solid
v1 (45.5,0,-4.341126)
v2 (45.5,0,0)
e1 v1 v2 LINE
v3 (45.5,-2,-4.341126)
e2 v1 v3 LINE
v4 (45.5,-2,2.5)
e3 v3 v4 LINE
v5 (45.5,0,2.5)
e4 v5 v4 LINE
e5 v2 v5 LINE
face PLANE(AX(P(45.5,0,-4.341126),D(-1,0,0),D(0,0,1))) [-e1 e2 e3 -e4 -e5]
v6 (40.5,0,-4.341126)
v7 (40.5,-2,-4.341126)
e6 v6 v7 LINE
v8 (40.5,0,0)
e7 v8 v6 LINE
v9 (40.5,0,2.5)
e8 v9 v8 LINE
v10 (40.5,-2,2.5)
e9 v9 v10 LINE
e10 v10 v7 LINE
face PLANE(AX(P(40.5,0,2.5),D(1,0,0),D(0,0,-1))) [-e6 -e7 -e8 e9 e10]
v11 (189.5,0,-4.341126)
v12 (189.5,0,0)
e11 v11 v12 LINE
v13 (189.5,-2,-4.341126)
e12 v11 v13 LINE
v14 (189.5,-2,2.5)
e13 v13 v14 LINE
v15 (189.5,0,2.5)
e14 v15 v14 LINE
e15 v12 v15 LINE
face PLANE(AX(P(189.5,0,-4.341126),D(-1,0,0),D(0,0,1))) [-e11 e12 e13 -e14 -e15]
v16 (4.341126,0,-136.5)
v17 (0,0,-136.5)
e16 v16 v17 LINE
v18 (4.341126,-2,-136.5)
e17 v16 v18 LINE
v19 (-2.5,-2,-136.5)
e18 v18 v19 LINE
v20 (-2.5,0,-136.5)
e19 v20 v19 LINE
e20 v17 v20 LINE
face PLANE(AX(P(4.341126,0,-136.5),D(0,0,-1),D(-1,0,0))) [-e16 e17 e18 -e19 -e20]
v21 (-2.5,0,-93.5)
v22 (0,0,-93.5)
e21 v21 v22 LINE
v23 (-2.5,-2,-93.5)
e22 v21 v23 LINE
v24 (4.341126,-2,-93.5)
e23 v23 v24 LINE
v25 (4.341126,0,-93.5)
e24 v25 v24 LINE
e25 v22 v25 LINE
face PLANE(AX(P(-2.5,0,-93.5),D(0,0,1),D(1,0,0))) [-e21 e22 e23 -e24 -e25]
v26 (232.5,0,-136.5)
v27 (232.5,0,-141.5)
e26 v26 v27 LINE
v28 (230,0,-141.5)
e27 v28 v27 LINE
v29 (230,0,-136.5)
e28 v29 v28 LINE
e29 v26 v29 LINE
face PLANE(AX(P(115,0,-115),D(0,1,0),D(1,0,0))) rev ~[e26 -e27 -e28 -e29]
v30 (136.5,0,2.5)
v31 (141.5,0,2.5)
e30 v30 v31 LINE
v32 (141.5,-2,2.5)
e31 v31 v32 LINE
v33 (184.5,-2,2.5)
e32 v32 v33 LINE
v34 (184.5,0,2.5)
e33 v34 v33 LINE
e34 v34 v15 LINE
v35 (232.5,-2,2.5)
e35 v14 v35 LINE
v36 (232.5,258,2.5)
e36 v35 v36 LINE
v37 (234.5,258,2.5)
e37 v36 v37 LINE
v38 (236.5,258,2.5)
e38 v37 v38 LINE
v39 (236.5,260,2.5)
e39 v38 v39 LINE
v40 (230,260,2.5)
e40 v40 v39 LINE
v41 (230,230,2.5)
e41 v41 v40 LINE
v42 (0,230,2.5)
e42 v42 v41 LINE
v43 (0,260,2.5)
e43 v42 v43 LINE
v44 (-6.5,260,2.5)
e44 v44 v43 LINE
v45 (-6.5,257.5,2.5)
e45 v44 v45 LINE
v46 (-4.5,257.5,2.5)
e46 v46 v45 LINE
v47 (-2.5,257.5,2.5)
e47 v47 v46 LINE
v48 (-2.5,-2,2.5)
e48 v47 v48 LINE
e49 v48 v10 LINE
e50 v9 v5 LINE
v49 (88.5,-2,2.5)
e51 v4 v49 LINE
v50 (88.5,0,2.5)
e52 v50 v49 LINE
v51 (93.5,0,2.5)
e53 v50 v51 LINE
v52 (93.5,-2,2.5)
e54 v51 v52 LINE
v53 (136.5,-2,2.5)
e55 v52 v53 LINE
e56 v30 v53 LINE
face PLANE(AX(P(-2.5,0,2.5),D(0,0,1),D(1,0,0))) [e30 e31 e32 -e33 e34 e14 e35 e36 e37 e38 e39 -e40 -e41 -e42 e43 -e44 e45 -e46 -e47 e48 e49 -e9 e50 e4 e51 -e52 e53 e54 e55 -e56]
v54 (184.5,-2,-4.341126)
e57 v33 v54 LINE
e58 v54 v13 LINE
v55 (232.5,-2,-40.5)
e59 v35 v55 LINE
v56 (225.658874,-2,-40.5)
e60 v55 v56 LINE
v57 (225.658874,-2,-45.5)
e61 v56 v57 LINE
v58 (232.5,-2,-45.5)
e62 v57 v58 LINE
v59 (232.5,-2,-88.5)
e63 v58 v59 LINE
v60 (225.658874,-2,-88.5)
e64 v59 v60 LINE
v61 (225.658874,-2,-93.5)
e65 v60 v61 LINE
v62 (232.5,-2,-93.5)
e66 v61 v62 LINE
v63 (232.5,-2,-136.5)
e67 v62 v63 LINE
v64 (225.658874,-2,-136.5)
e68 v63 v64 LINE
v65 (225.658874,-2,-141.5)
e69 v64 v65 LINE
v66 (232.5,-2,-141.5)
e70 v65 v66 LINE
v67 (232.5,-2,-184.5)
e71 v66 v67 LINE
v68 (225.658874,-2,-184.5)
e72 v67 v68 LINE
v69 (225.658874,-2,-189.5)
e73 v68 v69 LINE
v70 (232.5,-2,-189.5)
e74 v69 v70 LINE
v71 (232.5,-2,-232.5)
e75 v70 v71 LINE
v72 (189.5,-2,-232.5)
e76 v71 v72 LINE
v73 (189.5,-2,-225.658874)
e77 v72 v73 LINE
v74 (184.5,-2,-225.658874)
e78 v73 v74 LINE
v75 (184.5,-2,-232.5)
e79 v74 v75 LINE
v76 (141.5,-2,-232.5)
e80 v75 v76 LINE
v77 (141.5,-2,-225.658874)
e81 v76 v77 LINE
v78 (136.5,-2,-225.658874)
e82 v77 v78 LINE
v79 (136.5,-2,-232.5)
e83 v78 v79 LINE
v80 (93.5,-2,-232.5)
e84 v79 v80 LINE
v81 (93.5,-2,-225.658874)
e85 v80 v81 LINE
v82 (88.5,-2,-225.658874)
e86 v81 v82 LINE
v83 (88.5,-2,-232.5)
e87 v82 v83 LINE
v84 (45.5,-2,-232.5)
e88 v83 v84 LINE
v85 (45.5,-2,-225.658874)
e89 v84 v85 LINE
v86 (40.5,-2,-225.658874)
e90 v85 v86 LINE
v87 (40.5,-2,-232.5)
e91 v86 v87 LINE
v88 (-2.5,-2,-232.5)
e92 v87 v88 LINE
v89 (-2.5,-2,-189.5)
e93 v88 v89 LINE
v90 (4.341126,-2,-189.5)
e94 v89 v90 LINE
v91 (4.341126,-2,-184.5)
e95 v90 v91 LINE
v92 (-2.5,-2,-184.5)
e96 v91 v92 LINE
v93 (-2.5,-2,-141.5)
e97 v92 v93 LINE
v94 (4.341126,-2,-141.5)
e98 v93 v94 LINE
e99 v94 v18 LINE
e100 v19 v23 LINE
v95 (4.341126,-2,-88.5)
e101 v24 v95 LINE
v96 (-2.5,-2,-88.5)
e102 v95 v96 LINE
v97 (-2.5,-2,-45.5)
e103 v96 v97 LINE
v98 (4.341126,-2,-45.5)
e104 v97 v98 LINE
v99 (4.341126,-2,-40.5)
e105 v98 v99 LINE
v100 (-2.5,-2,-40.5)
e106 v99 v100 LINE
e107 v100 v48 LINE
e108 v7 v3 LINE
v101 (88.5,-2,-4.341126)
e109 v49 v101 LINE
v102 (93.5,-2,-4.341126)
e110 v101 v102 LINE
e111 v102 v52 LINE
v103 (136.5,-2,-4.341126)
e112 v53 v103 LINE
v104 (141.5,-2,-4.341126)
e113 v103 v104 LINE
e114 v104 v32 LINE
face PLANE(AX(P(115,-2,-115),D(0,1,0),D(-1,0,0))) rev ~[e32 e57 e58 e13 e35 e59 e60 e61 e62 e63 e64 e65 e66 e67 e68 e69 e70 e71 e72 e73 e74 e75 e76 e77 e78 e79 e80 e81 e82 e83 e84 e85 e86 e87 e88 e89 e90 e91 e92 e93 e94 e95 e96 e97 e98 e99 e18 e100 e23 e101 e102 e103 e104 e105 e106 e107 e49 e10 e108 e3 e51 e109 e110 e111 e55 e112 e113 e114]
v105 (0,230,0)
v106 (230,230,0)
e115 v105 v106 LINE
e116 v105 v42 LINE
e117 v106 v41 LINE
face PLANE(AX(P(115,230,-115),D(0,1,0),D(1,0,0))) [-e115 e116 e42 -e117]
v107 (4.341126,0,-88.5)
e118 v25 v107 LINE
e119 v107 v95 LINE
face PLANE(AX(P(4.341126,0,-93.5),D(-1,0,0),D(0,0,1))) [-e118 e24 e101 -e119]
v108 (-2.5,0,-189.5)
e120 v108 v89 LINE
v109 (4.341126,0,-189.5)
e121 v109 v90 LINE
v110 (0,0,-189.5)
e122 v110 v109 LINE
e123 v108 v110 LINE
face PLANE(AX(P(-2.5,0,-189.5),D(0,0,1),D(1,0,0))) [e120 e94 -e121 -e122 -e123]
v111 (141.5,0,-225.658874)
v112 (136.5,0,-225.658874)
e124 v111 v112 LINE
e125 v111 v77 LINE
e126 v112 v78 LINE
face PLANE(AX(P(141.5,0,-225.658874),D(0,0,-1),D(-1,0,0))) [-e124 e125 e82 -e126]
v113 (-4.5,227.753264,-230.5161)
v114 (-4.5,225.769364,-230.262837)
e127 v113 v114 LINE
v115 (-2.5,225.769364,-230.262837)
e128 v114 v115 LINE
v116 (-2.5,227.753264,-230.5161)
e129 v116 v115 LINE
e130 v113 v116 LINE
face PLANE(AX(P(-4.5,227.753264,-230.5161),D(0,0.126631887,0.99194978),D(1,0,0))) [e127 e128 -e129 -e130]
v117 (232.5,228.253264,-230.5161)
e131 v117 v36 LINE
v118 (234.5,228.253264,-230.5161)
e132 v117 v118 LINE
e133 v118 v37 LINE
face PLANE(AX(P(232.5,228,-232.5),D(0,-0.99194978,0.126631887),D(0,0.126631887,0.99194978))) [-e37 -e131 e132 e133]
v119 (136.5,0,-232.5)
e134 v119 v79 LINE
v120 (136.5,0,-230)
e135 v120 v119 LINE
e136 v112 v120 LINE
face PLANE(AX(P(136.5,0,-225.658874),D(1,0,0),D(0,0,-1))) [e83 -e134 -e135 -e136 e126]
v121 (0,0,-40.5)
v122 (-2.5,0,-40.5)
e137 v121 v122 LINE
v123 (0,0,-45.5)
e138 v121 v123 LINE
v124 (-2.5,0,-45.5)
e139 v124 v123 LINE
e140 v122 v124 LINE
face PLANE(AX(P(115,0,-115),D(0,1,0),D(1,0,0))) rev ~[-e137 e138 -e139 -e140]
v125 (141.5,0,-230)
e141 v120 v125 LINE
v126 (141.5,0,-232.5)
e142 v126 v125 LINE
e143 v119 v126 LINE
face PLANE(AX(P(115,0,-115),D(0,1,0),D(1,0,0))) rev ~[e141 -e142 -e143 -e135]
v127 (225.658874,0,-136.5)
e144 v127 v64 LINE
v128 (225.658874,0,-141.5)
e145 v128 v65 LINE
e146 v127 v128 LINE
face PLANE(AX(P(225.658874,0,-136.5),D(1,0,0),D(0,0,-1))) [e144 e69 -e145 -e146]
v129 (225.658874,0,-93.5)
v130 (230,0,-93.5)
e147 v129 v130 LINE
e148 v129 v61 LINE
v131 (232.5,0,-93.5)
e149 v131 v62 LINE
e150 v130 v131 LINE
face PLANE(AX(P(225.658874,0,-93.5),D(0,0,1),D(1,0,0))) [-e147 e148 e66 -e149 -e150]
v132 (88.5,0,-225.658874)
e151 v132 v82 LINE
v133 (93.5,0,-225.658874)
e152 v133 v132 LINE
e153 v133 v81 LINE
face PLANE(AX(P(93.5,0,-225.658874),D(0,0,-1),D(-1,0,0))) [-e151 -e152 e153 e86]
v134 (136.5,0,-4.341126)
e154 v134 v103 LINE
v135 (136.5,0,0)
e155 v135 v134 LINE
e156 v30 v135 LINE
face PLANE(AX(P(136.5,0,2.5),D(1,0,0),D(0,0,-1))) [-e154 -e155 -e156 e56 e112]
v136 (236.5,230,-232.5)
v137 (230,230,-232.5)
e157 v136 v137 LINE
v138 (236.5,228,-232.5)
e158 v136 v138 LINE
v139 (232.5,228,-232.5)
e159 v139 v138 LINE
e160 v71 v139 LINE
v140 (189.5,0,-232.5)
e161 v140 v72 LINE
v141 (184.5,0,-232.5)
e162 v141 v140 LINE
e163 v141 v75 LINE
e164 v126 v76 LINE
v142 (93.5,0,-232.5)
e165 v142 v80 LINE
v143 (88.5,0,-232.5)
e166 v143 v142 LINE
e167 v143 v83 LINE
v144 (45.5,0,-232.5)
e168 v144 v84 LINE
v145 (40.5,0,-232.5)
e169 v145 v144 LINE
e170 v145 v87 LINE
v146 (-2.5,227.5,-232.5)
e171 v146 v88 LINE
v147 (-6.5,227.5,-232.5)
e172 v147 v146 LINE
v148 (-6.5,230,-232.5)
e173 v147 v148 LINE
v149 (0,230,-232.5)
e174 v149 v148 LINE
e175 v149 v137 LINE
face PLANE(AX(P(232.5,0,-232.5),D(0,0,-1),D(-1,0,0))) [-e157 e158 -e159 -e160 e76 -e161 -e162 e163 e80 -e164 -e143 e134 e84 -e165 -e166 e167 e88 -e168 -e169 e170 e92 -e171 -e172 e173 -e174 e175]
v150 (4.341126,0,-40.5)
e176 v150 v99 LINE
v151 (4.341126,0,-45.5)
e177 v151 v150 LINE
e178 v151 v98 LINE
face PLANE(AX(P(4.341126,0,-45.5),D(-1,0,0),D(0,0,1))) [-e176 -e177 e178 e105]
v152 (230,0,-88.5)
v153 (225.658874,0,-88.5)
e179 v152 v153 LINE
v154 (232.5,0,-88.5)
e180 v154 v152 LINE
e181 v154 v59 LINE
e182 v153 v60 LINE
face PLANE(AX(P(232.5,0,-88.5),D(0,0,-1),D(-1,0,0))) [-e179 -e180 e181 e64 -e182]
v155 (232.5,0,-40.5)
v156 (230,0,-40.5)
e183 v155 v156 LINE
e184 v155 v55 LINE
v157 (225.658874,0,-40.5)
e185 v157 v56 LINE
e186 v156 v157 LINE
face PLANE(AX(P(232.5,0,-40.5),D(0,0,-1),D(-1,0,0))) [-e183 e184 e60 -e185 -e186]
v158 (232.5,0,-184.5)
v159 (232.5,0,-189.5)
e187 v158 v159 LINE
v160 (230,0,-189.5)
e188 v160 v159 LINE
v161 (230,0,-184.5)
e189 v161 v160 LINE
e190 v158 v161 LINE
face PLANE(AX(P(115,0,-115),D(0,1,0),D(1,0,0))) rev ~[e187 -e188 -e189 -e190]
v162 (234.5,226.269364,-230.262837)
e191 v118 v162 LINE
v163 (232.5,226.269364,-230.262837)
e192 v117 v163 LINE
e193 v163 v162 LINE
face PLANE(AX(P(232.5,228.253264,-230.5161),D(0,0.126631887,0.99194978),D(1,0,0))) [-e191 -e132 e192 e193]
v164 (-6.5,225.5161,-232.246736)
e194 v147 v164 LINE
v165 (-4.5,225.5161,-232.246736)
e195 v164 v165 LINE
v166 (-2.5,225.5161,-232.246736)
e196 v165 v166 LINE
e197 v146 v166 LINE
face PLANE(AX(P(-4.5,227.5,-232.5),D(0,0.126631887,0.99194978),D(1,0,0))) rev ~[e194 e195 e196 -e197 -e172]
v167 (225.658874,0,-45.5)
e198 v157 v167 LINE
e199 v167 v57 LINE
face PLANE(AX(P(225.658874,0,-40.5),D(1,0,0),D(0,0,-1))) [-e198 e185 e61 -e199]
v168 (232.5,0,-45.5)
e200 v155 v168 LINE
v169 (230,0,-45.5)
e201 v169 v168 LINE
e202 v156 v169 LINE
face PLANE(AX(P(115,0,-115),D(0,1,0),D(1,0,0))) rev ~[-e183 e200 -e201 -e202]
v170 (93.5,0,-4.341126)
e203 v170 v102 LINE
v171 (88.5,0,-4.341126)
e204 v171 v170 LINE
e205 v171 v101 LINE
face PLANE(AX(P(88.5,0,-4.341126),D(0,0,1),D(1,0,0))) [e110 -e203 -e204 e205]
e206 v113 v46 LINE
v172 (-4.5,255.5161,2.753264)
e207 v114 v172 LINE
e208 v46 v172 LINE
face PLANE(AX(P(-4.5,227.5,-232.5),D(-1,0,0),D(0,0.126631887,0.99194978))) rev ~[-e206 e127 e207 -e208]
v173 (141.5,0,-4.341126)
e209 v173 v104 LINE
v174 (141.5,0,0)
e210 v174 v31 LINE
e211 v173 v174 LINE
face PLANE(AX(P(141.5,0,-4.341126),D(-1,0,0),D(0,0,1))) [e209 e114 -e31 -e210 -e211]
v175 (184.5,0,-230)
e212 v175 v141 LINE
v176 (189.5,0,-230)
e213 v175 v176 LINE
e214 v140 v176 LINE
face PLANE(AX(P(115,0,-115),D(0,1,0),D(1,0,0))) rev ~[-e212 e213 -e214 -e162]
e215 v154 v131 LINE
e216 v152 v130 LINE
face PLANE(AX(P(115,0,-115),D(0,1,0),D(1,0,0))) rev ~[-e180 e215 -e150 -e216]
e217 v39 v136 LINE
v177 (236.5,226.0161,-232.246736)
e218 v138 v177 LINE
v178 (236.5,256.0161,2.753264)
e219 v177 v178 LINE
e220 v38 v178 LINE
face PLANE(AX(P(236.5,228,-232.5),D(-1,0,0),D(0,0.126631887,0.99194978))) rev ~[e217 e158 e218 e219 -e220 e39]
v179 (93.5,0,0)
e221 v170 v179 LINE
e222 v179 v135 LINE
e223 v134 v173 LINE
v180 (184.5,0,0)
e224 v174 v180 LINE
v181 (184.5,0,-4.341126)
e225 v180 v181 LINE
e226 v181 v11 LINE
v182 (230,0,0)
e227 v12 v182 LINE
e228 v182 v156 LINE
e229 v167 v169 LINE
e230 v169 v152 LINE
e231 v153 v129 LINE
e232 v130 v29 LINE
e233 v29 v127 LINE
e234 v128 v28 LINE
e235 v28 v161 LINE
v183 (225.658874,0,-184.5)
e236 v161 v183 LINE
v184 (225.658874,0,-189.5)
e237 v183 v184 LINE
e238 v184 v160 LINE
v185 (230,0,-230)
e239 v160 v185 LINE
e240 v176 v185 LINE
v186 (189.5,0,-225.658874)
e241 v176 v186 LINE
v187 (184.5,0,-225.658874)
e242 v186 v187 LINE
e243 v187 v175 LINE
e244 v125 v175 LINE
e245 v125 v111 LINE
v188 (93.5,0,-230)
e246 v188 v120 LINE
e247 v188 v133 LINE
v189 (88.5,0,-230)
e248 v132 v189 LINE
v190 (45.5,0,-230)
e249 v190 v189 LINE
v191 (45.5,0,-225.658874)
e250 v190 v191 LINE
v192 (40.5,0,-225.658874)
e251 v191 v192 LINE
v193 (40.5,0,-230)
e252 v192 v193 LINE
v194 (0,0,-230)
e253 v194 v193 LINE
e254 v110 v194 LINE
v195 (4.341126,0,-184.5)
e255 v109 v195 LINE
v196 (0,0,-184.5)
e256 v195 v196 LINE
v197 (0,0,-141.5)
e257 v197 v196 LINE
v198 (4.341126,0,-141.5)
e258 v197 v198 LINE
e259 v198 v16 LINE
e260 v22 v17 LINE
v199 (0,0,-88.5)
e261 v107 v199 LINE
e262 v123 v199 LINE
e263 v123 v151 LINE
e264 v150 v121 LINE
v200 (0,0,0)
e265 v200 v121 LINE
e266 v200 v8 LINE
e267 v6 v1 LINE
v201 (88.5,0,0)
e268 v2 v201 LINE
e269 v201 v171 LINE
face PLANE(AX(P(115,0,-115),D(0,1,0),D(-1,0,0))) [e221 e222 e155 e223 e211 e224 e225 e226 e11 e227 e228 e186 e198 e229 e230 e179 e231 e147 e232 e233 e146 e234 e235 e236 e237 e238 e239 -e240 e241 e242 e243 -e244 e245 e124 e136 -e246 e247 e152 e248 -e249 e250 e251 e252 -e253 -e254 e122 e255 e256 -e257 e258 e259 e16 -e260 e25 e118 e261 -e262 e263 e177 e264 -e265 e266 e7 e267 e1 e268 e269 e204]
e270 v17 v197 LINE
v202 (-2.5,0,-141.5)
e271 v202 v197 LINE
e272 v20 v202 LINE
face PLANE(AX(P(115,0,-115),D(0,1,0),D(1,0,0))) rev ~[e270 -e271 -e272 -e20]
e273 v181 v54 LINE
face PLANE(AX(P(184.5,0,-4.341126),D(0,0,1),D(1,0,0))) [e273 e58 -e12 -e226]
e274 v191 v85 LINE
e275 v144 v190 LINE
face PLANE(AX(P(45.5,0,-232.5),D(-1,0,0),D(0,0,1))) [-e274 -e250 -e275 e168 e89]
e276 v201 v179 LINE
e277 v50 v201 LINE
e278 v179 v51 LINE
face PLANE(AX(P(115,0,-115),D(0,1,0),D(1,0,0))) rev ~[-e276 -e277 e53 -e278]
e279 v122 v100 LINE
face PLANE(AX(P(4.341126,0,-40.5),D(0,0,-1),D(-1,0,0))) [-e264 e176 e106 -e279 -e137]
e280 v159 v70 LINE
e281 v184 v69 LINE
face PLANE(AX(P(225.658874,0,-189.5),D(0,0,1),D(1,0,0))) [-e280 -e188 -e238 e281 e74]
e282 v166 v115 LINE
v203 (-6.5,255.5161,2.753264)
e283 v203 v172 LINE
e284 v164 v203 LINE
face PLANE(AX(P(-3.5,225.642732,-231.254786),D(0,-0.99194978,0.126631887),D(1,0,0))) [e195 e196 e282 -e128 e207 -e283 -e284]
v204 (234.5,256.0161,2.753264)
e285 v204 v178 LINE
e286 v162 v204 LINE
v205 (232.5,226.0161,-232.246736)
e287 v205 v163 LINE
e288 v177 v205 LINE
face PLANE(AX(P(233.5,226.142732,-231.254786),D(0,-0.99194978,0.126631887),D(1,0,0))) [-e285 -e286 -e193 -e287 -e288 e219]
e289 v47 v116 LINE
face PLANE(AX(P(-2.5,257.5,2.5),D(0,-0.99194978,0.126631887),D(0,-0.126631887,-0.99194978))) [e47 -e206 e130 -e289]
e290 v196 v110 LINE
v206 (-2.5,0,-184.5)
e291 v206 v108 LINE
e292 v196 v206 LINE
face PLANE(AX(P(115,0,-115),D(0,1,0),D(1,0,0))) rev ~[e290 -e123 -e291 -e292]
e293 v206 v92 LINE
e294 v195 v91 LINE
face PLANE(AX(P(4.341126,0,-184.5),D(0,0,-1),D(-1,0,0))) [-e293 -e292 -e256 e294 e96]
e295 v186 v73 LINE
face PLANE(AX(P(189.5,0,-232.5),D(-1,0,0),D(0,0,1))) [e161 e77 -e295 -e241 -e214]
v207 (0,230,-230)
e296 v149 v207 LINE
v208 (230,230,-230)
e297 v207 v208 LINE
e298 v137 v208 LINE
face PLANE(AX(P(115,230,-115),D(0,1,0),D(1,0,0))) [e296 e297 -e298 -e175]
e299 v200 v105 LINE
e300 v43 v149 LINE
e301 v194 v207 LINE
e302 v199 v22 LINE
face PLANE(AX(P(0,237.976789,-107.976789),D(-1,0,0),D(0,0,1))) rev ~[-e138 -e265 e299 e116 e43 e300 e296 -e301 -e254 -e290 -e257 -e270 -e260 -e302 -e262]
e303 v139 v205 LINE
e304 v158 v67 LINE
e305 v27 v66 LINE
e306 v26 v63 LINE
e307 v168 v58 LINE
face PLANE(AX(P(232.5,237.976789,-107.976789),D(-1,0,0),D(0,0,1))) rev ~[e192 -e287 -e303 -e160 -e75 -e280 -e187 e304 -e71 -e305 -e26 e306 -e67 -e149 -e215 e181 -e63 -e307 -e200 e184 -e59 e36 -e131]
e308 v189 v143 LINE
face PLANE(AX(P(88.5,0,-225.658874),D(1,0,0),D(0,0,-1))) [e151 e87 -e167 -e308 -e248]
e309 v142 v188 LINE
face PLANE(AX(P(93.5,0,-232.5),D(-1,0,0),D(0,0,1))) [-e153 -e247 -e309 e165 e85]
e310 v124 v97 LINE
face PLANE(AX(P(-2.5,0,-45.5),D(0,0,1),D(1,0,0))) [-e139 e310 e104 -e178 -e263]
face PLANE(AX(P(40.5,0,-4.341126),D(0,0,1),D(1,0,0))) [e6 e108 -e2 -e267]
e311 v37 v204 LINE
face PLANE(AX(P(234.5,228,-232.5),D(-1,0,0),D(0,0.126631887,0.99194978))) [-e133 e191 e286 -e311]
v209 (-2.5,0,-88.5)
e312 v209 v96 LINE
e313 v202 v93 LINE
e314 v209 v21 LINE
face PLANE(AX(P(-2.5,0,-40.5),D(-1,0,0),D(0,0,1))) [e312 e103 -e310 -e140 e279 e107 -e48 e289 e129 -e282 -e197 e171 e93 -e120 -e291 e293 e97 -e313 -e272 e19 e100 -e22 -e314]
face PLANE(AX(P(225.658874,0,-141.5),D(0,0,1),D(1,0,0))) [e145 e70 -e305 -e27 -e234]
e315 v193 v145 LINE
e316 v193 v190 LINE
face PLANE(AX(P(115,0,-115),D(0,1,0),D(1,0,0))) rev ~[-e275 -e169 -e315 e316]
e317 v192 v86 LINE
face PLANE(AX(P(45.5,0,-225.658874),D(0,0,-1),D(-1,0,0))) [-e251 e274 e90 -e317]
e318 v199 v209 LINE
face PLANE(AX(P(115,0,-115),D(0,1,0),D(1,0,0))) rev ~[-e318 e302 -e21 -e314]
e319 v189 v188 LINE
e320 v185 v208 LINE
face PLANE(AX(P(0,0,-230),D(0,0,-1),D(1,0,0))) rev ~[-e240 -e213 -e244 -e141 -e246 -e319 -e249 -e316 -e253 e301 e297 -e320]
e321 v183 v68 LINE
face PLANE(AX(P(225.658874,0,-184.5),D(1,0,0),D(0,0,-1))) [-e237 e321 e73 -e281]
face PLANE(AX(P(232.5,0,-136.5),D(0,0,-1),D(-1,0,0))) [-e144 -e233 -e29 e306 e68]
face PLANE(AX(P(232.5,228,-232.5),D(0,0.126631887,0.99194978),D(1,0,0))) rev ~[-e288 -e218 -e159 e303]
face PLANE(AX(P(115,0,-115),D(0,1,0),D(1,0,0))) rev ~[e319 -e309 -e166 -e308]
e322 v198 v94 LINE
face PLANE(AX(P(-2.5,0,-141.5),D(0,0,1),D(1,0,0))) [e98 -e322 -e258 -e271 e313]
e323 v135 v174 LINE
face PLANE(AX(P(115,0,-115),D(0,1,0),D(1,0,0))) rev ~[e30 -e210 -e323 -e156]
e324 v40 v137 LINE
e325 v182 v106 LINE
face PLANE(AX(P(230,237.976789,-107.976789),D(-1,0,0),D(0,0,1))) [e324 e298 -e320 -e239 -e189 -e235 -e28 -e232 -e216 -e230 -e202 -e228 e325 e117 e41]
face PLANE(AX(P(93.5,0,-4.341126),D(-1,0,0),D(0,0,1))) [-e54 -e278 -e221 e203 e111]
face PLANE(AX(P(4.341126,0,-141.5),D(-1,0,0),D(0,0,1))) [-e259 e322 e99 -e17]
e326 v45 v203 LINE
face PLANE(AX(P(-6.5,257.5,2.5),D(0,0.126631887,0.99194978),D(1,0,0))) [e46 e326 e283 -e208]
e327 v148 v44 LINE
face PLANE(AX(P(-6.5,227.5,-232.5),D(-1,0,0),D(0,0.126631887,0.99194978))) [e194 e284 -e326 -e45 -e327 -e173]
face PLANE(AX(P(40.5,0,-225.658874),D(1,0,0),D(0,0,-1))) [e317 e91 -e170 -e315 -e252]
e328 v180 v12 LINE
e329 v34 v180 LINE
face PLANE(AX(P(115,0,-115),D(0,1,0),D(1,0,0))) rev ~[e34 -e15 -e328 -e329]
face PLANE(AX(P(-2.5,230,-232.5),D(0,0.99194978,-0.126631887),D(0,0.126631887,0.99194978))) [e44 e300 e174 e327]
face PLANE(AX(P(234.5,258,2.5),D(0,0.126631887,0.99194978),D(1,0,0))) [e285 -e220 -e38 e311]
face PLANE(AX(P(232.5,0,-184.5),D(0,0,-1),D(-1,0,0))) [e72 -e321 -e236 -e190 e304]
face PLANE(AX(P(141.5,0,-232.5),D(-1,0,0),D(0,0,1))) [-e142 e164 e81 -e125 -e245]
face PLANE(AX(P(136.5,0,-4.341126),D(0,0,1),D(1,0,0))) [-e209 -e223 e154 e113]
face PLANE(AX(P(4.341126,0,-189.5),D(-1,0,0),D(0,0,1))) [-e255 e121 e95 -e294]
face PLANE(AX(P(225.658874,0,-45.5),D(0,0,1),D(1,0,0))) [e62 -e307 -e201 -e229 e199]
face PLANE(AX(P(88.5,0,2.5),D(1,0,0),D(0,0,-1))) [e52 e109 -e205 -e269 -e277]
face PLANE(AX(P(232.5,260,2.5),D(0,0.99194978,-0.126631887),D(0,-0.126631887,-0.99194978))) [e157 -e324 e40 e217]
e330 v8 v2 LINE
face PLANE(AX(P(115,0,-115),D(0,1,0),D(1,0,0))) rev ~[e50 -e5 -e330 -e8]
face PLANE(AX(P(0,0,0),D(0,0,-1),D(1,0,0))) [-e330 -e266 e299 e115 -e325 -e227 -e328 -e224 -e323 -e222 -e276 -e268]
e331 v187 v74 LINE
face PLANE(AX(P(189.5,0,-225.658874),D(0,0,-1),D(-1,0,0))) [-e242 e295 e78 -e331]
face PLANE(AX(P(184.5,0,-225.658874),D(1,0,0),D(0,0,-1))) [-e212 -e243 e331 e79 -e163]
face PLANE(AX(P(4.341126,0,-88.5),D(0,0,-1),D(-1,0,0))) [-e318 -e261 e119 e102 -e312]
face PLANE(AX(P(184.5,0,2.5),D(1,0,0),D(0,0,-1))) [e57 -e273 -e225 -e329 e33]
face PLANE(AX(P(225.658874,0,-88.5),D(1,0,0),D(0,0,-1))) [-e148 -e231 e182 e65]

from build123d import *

# Parameters (mm, degrees)
SKETCH1_W            = 235
SKETCH1_H            = 235
SKETCH1_W_2          = 230
SKETCH1_H_2          = 230
EXTRUDE_THIN1_DEPTH  = 230
BOSS_EXTRUDE1_DEPTH  = 2.5
BOSS_EXTRUDE2_DEPTH  = 2.5
BOSS_EXTRUDE5_DEPTH  = 4
SKETCH8_W            = 2
SKETCH8_H            = 236.907154809
BOSS_EXTRUDE6_DEPTH  = 2
BOSS_EXTRUDE7_DEPTH  = 4
SKETCH10_W           = 2
SKETCH10_H           = 236.90715481
BOSS_EXTRUDE8_DEPTH  = 2
SKETCH11_W           = 2
SKETCH11_H           = 2
BOSS_EXTRUDE9_DEPTH  = 2
SKETCH12_W           = 2
SKETCH12_H           = 2
BOSS_EXTRUDE10_DEPTH = 2
BOSS_EXTRUDE11_DEPTH = 2


with BuildPart() as part:
    # Sketch1 → Extrude-Thin1 (new body)
    with BuildSketch(Plane(origin=(0, 0, 0), x_dir=(1, 0, 0), z_dir=(0, 1, 0))):
        with Locations((115, 115)):
            Rectangle(SKETCH1_W, SKETCH1_H)
        with Locations((115, 115)):
            Rectangle(SKETCH1_W_2, SKETCH1_H_2, mode=Mode.SUBTRACT)
    extrude(amount=EXTRUDE_THIN1_DEPTH)

    # Sketch4 → Boss-Extrude1 (add)
    with BuildSketch(Plane(origin=(232.5, 0, 0), x_dir=(0, 0, -1), z_dir=(1, 0, 0))):
        Polygon((-2.5, 230), (-2.5, 260), (232.5, 230), align=None)
    extrude(amount=-BOSS_EXTRUDE1_DEPTH)

    # Sketch5 → Boss-Extrude2 (add)
    with BuildSketch(Plane.ZY.offset(2.5)):
        Polygon((-232.5, 230), (2.5, 230), (2.5, 260), align=None)
    extrude(amount=-BOSS_EXTRUDE2_DEPTH)

    # Sketch6 → Boss-Extrude5 (add)
    with BuildSketch(Plane.ZY.offset(2.5)):
        Polygon((-232.5, 230), (2.5, 260), (2.5, 257.5), (-232.5, 227.5), align=None)
    extrude(amount=BOSS_EXTRUDE5_DEPTH)

    # Sketch8 → Boss-Extrude6 (add)
    with BuildSketch(Plane(origin=(0, 253.056792873, -32.305122494), x_dir=(1, 0, 0), z_dir=(0, -0.9919497796038491, 0.12663188675793835))):
        with Locations((-5.5, -83.365992116)):
            Rectangle(SKETCH8_W, SKETCH8_H)
    extrude(amount=BOSS_EXTRUDE6_DEPTH)

    # Sketch9 → Boss-Extrude7 (add)
    with BuildSketch(Plane(origin=(232.5, 0, 0), x_dir=(0, 0, -1), z_dir=(1, 0, 0))):
        Polygon((-2.5, 260), (232.5, 230), (232.5, 228), (-2.5, 258), align=None)
    extrude(amount=BOSS_EXTRUDE7_DEPTH)

    # Sketch10 → Boss-Extrude8 (add)
    with BuildSketch(Plane(origin=(0, 253.548775056, -32.367928731), x_dir=(1, 0, 0), z_dir=(0, -0.9919497796038491, 0.12663188675793827))):
        with Locations((235.5, -83.302676172)):
            Rectangle(SKETCH10_W, SKETCH10_H)
    extrude(amount=BOSS_EXTRUDE8_DEPTH)

    # Sketch11 → Boss-Extrude9 (add)
    with BuildSketch(Plane(origin=(0, 253.548775056, -32.367928731), x_dir=(1, 0, 0), z_dir=(0, -0.9919497796038491, 0.12663188675793827))):
        with Locations((233.5, -200.756253577)):
            Rectangle(SKETCH11_W, SKETCH11_H)
    extrude(amount=BOSS_EXTRUDE9_DEPTH)

    # Sketch12 → Boss-Extrude10 (add)
    with BuildSketch(Plane(origin=(0, 253.056792873, -32.305122494), x_dir=(1, 0, 0), z_dir=(0, -0.9919497796038491, 0.12663188675793835))):
        with Locations((-3.5, -200.81956952)):
            Rectangle(SKETCH12_W, SKETCH12_H)
    extrude(amount=BOSS_EXTRUDE10_DEPTH)

    # Sketch13 → Boss-Extrude11 (add)
    with BuildSketch(Plane.XZ):
        Polygon((-2.5, 2.5), (40.5, 2.5), (40.5, -4.341126342), (45.5, -4.341126342), (45.5, 2.5), (88.5, 2.5), (88.5, -4.341126342), (93.5, -4.341126342), (93.5, 2.5), (136.5, 2.5), (136.5, -4.341126342), (141.5, -4.341126342), (141.5, 2.5), (184.5, 2.5), (184.5, -4.341126342), (189.5, -4.341126342), (189.5, 2.5), (232.5, 2.5), (232.5, -40.5), (225.658873658, -40.5), (225.658873658, -45.5), (232.5, -45.5), (232.5, -88.5), (225.658873658, -88.5), (225.658873658, -93.5), (232.5, -93.5), (232.5, -136.5), (225.658873658, -136.5), (225.658873658, -141.5), (232.5, -141.5), (232.5, -184.5), (225.658873658, -184.5), (225.658873658, -189.5), (232.5, -189.5), (232.5, -232.5), (189.5, -232.5), (189.5, -225.658873658), (184.5, -225.658873658), (184.5, -232.5), (141.5, -232.5), (141.5, -225.658873658), (136.5, -225.658873658), (136.5, -232.5), (93.5, -232.5), (93.5, -225.658873658), (88.5, -225.658873658), (88.5, -232.5), (45.5, -232.5), (45.5, -225.658873658), (40.5, -225.658873658), (40.5, -232.5), (-2.5, -232.5), (-2.5, -189.5), (4.341126342, -189.5), (4.341126342, -184.5), (-2.5, -184.5), (-2.5, -141.5), (4.341126342, -141.5), (4.341126342, -136.5), (-2.5, -136.5), (-2.5, -93.5), (4.341126342, -93.5), (4.341126342, -88.5), (-2.5, -88.5), (-2.5, -45.5), (4.341126342, -45.5), (4.341126342, -40.5), (-2.5, -40.5), align=None)
    extrude(amount=BOSS_EXTRUDE11_DEPTH)


solid = part.part
